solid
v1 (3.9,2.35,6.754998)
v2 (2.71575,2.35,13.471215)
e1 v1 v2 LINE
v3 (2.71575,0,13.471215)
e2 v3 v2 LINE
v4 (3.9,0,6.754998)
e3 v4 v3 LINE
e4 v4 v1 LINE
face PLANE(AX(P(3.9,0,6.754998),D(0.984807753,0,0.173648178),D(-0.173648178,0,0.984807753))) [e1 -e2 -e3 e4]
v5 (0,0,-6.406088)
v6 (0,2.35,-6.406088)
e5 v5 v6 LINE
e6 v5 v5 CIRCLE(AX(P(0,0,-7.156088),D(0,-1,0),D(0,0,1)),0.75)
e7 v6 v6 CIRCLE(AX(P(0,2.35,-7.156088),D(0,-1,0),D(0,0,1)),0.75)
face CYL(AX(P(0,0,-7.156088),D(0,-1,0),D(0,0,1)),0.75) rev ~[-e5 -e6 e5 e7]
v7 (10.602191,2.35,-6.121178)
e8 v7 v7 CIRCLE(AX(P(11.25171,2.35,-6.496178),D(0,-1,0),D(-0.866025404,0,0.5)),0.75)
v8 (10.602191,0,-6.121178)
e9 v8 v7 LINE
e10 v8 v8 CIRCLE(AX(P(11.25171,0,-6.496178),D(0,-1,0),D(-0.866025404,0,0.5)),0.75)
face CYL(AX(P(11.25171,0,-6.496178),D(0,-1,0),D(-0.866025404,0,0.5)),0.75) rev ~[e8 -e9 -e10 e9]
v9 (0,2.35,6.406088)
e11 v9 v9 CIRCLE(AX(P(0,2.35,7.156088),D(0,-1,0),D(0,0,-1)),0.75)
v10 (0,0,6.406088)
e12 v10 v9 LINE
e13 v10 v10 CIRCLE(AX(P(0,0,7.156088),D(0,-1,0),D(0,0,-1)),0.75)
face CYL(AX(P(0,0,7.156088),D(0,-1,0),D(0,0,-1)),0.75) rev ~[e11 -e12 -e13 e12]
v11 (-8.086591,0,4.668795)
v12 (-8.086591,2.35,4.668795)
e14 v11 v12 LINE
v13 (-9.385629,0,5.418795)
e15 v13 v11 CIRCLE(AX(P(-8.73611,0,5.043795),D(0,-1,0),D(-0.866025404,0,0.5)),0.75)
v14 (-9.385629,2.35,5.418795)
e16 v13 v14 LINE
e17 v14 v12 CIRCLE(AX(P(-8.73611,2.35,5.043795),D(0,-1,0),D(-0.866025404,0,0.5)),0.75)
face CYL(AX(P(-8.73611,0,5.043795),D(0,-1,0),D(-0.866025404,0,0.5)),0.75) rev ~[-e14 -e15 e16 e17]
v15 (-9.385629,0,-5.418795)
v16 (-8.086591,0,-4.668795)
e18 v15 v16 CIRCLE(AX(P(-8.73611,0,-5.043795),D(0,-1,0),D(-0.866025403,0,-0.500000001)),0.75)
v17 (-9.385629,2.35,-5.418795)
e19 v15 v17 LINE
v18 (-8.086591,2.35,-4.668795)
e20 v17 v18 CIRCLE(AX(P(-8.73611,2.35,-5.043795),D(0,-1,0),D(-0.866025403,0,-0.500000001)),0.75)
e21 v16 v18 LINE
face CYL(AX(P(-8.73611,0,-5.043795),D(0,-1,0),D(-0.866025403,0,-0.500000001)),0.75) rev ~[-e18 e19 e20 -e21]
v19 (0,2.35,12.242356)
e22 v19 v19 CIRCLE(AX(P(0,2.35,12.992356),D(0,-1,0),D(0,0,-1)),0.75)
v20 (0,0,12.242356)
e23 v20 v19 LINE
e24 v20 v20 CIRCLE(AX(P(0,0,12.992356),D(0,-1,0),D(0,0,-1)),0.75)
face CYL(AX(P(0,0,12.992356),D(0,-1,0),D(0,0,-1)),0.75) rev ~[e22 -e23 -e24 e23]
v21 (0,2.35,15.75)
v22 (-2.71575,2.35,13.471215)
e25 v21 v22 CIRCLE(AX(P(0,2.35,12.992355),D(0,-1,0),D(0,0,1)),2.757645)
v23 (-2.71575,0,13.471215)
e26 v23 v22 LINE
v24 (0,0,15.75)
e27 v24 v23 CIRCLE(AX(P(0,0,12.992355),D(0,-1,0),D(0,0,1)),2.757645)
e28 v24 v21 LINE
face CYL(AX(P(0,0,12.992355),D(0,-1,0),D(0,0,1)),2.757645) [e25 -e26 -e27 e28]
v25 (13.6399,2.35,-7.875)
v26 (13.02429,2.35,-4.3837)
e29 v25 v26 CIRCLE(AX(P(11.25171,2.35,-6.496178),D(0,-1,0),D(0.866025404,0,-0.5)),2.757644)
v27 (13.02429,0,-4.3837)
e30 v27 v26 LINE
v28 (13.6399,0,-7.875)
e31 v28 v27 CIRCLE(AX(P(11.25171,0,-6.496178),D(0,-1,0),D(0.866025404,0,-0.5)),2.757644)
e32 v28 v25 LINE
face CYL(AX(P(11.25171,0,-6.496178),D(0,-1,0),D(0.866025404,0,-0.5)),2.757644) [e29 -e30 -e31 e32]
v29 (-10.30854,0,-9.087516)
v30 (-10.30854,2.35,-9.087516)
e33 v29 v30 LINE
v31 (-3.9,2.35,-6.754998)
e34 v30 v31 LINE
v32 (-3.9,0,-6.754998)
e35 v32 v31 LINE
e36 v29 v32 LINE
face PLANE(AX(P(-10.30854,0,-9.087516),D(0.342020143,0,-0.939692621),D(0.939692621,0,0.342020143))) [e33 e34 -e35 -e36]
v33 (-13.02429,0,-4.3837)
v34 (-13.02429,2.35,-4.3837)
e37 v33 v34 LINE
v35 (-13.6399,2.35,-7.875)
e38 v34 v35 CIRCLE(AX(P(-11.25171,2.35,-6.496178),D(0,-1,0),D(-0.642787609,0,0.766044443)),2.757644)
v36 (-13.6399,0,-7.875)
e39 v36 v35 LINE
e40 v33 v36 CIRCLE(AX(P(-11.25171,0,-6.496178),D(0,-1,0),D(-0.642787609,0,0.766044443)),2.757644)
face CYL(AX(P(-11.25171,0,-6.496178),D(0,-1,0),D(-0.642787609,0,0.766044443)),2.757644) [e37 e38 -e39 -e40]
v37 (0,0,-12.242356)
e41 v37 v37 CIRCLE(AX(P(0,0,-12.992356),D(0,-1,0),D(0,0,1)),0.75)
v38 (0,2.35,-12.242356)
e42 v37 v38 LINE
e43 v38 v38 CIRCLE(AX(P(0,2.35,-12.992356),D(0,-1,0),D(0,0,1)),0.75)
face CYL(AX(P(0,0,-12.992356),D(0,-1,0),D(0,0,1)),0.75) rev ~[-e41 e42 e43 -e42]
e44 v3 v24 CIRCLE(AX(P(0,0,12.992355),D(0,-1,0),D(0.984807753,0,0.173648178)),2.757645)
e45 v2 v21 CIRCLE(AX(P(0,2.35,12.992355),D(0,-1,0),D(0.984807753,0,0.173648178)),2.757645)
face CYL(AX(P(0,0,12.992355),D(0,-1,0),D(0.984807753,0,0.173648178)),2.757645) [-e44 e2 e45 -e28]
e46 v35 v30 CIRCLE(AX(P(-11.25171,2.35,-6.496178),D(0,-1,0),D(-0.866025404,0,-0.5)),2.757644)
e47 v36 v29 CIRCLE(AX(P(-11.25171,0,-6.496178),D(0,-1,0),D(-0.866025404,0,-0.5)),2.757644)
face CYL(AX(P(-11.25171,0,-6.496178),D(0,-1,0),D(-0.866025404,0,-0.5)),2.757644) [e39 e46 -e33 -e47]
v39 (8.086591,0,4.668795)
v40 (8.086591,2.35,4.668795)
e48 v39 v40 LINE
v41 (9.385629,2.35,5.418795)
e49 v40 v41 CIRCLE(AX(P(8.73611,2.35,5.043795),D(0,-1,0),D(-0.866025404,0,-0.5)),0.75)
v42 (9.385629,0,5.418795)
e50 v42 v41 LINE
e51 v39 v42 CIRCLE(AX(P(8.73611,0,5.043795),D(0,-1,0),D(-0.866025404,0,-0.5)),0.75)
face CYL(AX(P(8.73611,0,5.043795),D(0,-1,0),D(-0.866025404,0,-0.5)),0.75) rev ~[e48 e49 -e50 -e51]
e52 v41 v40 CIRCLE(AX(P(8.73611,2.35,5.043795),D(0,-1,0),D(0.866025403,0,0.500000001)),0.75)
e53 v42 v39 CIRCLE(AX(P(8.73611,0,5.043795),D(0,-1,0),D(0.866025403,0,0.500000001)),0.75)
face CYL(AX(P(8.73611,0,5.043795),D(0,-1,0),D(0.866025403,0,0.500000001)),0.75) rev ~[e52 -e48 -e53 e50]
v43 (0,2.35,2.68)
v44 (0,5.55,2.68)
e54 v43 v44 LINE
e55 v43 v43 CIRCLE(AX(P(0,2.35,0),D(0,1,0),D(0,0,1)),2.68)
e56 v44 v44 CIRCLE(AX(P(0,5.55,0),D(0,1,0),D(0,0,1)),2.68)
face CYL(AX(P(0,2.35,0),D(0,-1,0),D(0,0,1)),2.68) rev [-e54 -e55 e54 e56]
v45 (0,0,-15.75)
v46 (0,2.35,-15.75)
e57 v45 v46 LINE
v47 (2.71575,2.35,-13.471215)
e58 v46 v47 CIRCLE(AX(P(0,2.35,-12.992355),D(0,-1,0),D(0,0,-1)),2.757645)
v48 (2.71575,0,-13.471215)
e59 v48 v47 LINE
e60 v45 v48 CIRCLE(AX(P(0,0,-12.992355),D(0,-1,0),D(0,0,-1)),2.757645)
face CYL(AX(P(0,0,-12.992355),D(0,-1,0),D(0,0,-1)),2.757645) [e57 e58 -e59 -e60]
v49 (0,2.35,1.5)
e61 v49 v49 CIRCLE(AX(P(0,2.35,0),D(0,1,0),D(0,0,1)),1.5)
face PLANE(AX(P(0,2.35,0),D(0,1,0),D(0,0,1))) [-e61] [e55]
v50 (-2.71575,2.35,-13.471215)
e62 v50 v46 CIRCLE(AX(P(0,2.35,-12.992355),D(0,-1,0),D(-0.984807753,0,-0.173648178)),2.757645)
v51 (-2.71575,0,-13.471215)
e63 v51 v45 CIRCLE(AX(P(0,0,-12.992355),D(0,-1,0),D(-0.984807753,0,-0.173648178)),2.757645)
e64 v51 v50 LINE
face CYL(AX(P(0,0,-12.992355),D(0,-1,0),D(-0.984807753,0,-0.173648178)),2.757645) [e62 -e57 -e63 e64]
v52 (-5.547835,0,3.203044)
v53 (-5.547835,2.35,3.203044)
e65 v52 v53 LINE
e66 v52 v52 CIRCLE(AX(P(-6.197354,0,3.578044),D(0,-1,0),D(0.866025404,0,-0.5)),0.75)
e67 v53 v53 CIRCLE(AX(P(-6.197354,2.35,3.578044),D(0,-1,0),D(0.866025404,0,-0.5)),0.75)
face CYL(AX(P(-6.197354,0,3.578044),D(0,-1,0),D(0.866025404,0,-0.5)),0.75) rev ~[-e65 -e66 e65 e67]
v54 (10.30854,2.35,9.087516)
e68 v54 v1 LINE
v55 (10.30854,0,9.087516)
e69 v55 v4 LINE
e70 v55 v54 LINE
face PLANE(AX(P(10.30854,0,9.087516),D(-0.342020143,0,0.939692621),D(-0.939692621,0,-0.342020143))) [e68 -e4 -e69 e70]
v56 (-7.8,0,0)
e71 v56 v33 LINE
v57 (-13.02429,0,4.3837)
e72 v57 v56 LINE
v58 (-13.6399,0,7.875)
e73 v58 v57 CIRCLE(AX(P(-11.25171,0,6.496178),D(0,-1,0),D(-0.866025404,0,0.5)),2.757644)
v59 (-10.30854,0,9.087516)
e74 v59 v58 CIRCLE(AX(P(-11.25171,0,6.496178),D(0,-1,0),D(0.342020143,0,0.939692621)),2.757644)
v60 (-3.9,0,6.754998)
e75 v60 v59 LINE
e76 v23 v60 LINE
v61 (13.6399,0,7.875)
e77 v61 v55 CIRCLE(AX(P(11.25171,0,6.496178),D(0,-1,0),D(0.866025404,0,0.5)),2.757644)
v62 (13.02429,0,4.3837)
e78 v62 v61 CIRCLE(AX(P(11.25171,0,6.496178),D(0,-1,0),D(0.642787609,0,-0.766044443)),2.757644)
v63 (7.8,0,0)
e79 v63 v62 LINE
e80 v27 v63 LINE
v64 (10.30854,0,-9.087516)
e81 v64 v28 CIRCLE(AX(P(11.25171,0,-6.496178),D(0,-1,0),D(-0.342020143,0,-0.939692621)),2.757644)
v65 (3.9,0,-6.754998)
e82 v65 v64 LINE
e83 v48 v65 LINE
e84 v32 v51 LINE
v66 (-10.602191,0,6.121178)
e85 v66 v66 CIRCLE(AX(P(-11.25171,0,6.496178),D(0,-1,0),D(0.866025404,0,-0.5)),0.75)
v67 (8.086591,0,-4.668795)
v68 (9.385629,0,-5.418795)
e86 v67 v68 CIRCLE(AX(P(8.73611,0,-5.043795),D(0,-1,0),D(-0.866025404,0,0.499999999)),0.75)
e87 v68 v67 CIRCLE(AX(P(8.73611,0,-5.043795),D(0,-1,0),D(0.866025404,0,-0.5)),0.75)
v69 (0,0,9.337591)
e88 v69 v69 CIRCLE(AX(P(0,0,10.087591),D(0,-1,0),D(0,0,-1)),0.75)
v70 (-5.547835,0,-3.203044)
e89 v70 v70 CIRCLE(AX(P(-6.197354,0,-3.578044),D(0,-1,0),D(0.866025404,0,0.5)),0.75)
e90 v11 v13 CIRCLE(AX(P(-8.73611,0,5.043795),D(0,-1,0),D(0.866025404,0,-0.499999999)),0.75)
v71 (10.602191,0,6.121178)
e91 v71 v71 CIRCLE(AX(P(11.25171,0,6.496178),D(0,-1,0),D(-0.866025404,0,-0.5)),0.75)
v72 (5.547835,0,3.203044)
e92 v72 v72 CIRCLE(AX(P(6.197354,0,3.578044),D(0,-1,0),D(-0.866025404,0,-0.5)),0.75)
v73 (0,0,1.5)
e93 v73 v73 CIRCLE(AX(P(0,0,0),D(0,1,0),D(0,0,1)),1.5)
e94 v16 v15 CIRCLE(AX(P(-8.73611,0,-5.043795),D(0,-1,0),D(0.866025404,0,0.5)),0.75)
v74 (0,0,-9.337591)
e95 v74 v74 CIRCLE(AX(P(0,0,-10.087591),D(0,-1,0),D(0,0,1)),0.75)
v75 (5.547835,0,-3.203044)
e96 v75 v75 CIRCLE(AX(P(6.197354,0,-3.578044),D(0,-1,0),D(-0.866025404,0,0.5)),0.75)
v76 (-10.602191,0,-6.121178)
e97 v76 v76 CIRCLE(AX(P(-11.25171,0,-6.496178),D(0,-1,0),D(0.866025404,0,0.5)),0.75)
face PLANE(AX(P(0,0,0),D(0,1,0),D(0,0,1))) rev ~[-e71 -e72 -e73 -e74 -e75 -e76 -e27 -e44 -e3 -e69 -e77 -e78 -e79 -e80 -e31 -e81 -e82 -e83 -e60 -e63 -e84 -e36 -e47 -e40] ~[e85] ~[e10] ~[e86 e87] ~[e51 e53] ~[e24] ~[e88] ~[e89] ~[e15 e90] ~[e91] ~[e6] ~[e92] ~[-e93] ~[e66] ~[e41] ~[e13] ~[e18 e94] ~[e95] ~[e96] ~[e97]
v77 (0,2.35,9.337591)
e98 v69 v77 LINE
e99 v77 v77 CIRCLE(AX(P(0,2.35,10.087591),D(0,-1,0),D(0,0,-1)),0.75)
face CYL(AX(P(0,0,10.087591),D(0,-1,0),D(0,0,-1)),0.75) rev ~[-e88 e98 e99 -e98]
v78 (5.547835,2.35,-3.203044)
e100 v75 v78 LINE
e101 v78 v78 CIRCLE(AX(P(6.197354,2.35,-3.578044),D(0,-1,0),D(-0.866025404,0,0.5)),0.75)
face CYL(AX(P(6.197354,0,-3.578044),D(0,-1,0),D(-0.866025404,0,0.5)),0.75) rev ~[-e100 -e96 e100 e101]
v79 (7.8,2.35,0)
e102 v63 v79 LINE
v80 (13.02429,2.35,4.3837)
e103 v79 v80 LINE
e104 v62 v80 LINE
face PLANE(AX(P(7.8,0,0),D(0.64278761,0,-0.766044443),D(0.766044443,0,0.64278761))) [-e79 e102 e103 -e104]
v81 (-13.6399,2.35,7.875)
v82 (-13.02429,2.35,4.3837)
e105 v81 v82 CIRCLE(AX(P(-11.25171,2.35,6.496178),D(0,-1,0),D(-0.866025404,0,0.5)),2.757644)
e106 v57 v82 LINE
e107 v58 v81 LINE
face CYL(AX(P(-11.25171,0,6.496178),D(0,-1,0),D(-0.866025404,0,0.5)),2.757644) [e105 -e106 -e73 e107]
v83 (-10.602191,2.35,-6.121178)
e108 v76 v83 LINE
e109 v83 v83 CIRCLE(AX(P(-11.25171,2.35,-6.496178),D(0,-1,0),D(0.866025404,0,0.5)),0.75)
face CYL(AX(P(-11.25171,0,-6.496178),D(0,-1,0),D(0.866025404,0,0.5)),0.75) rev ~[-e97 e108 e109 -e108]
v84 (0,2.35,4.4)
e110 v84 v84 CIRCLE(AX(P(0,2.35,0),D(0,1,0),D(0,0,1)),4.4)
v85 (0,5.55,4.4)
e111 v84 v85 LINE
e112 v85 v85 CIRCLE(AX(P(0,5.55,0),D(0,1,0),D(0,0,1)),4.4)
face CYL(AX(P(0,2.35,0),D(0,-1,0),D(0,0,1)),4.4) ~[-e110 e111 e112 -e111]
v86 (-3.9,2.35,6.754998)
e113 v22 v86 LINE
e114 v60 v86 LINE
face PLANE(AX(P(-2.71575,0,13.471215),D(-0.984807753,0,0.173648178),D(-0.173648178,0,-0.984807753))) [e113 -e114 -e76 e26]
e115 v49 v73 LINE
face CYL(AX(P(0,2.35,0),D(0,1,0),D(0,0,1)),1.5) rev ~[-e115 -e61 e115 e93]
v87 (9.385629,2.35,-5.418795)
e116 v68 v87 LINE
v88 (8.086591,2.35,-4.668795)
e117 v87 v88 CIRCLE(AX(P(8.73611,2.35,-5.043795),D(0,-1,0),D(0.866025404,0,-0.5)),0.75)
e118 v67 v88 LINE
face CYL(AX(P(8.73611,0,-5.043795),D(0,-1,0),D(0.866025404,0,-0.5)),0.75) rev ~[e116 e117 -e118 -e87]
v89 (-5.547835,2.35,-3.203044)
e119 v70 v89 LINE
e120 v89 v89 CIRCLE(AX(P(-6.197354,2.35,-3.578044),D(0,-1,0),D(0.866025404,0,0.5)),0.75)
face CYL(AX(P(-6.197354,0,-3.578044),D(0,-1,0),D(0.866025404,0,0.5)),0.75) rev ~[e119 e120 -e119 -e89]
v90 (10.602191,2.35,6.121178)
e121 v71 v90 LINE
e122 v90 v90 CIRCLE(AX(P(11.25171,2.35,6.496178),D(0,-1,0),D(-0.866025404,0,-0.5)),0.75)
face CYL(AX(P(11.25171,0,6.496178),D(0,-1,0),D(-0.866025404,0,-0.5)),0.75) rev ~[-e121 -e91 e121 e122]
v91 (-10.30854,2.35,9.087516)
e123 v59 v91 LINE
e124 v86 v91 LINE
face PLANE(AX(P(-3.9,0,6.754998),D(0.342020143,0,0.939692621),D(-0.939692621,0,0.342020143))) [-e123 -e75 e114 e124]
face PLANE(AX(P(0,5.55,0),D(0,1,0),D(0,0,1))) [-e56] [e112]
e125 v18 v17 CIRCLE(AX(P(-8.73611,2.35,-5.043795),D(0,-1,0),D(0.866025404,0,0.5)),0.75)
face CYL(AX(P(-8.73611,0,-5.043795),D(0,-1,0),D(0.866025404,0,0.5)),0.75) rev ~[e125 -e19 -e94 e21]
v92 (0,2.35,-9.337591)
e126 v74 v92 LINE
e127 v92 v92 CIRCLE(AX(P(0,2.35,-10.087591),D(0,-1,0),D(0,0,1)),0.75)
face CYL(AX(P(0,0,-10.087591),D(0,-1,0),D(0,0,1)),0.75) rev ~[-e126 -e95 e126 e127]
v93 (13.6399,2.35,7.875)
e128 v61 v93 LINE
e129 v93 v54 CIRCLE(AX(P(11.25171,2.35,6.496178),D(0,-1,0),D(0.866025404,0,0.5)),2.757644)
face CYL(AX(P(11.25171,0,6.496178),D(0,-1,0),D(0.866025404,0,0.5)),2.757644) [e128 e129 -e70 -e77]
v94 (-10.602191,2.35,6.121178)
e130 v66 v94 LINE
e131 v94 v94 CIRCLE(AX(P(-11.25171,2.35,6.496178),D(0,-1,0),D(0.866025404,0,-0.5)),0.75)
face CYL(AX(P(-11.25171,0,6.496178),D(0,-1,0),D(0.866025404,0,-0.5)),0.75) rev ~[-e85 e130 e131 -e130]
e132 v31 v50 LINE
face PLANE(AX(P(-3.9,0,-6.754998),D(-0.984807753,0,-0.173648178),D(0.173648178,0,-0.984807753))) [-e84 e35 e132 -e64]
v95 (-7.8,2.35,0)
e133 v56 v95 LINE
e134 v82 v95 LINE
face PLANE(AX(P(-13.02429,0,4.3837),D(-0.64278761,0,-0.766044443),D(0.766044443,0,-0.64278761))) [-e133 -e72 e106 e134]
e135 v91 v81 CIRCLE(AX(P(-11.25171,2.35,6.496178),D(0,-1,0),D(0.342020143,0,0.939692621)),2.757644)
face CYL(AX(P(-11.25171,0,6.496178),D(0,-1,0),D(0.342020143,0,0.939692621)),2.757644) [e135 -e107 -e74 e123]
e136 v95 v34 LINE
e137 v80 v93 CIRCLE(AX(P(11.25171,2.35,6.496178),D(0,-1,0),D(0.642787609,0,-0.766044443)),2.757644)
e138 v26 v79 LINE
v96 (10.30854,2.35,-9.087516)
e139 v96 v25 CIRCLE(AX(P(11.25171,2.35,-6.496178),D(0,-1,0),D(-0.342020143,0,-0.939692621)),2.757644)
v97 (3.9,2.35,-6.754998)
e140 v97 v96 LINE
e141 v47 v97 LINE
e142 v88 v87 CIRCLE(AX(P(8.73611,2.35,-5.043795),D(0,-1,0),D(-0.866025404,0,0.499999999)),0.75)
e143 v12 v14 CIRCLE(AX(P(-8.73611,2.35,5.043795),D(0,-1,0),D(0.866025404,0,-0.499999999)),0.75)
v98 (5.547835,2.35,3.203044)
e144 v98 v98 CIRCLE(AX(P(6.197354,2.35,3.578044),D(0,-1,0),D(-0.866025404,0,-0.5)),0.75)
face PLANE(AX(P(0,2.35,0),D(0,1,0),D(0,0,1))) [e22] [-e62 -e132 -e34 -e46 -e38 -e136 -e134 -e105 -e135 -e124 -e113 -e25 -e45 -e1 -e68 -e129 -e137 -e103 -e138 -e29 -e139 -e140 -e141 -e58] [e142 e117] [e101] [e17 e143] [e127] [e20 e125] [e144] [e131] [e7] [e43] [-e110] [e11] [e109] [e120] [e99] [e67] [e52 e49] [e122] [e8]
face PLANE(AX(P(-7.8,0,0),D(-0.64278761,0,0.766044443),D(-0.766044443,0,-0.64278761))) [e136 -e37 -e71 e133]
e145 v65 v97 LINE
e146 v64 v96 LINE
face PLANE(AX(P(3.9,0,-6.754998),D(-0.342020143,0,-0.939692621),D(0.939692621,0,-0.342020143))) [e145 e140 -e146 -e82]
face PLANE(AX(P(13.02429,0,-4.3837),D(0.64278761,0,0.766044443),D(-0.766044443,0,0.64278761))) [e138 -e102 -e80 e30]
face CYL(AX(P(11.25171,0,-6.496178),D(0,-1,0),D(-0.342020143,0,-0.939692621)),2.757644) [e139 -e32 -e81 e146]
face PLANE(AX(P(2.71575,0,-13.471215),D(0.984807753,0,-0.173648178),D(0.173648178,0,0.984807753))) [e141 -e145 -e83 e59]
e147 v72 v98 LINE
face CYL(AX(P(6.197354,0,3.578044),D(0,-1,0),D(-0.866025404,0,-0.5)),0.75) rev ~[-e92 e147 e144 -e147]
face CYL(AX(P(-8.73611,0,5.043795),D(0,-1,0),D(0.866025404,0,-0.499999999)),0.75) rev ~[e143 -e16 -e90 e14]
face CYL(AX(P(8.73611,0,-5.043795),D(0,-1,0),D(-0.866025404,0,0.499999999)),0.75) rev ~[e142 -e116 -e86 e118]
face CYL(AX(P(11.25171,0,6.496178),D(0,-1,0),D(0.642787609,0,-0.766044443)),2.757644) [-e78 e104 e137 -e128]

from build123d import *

# Parameters (mm, degrees)
SKETCH1_R           = 15.75
BOSS_EXTRUDE1_DEPTH = 2.35
CUT_EXTRUDE2_START  = -2.35
CUT_EXTRUDE2_DEPTH  = 2.35
SKETCH3_R           = 4.4
SKETCH3_R_2         = 2.68
BOSS_EXTRUDE2_DEPTH = 3.2
SKETCH4_R           = 1.5
CUT_EXTRUDE3_DEPTH  = 22.320518549


with BuildPart() as part:
    # Sketch1 → Boss-Extrude1 (new body)
    with BuildSketch(Plane(origin=(0, 0, 0), x_dir=(1, 0, 0), z_dir=(0, 1, 0))):
        with Locations(Location((0, 0, 0), (0, 0, 270))):
            Circle(SKETCH1_R)
    extrude(amount=BOSS_EXTRUDE1_DEPTH)

    # Sketch2 → Cut-Extrude2 (cut)
    with BuildSketch(Plane(origin=(0, 2.35, 0), x_dir=(1, 0, 0), z_dir=(0, 1, 0)).offset(CUT_EXTRUDE2_START)):
        with BuildLine():
            ThreePointArc((-11.901228971, -6.87117775), (-11.626709919, -5.846658698), (-10.602190866, -6.12117775))
            ThreePointArc((-10.602190866, -6.12117775), (-10.876709919, -7.145696803), (-11.901228971, -6.87117775))
        make_face()
        with BuildLine():
            ThreePointArc((-9.385628943, -5.418795397), (-9.11110989, -4.394276344), (-8.086590837, -4.668795397))
            ThreePointArc((-8.086590837, -4.668795397), (-8.36110989, -5.693314449), (-9.385628943, -5.418795397))
        make_face()
        with BuildLine():
            ThreePointArc((-6.846872878, -3.953043899), (-6.572353825, -2.928524846), (-5.547834772, -3.203043899))
            ThreePointArc((-5.547834772, -3.203043899), (-5.822353825, -4.227562952), (-6.846872878, -3.953043899))
        make_face()
        with BuildLine():
            ThreePointArc((-11.901228971, 6.87117775), (-10.876709919, 7.145696803), (-10.602190866, 6.12117775))
            ThreePointArc((-10.602190866, 6.12117775), (-11.626709919, 5.846658698), (-11.901228971, 6.87117775))
        make_face()
        with BuildLine():
            ThreePointArc((-9.385628943, 5.418795397), (-8.36110989, 5.693314449), (-8.086590837, 4.668795397))
            ThreePointArc((-8.086590837, 4.668795397), (-9.11110989, 4.394276344), (-9.385628943, 5.418795397))
        make_face()
        with BuildLine():
            ThreePointArc((-6.846872878, 3.953043899), (-5.822353825, 4.227562952), (-5.547834772, 3.203043899))
            ThreePointArc((-5.547834772, 3.203043899), (-6.572353825, 2.928524846), (-6.846872878, 3.953043899))
        make_face()
        with BuildLine():
            ThreePointArc((0, 13.742355501), (0.75, 12.992355501), (0, 12.242355501))
            ThreePointArc((0, 12.242355501), (-0.75, 12.992355501), (0, 13.742355501))
        make_face()
        with BuildLine():
            ThreePointArc((0, 7.906087798), (0.75, 7.156087798), (0, 6.406087798))
            ThreePointArc((0, 6.406087798), (-0.75, 7.156087798), (0, 7.906087798))
        make_face()
        with BuildLine():
            ThreePointArc((0, 10.837590793), (0.75, 10.087590793), (0, 9.337590793))
            ThreePointArc((0, 9.337590793), (-0.75, 10.087590793), (0, 10.837590793))
        make_face()
        with BuildLine():
            ThreePointArc((6.846872878, 3.953043899), (6.572353825, 2.928524846), (5.547834772, 3.203043899))
            ThreePointArc((5.547834772, 3.203043899), (5.822353825, 4.227562952), (6.846872878, 3.953043899))
        make_face()
        with BuildLine():
            ThreePointArc((9.385628943, 5.418795397), (9.11110989, 4.394276344), (8.086590837, 4.668795397))
            ThreePointArc((8.086590837, 4.668795397), (8.36110989, 5.693314449), (9.385628943, 5.418795397))
        make_face()
        with BuildLine():
            ThreePointArc((11.901228971, 6.87117775), (11.626709919, 5.846658698), (10.602190866, 6.12117775))
            ThreePointArc((10.602190866, 6.12117775), (10.876709919, 7.145696803), (11.901228971, 6.87117775))
        make_face()
        with BuildLine():
            ThreePointArc((6.846872878, -3.953043899), (5.822353825, -4.227562952), (5.547834772, -3.203043899))
            ThreePointArc((5.547834772, -3.203043899), (6.572353825, -2.928524846), (6.846872878, -3.953043899))
        make_face()
        with BuildLine():
            ThreePointArc((9.385628943, -5.418795397), (8.36110989, -5.693314449), (8.086590837, -4.668795397))
            ThreePointArc((8.086590837, -4.668795397), (9.11110989, -4.394276344), (9.385628943, -5.418795397))
        make_face()
        with BuildLine():
            ThreePointArc((11.901228971, -6.87117775), (10.876709919, -7.145696803), (10.602190866, -6.12117775))
            ThreePointArc((10.602190866, -6.12117775), (11.626709919, -5.846658698), (11.901228971, -6.87117775))
        make_face()
        with BuildLine():
            ThreePointArc((0, -7.906087798), (-0.75, -7.156087798), (0, -6.406087798))
            ThreePointArc((0, -6.406087798), (0.75, -7.156087798), (0, -7.906087798))
        make_face()
        with BuildLine():
            ThreePointArc((0, -10.837590793), (-0.75, -10.087590793), (0, -9.337590793))
            ThreePointArc((0, -9.337590793), (0.75, -10.087590793), (0, -10.837590793))
        make_face()
        with BuildLine():
            ThreePointArc((0, -13.742355501), (-0.75, -12.992355501), (0, -12.242355501))
            ThreePointArc((0, -12.242355501), (0.75, -12.992355501), (0, -13.742355501))
        make_face()
        with BuildLine():
            ThreePointArc((-10.308539952, -9.087515937), (-12.194879886, -9.087515937), (-13.63990011, -7.875))
            ThreePointArc((-13.63990011, -7.875), (-7.875, -13.63990011), (0, -15.75))
            ThreePointArc((0, -15.75), (-1.772579716, -15.104833745), (-2.715749683, -13.471215443))
            Line((-2.715749683, -13.471215443), (-3.9, -6.75499815))
            Line((-3.9, -6.75499815), (-10.308539952, -9.087515937))
        make_face()
        with BuildLine():
            ThreePointArc((-13.024289635, 4.383699506), (-13.967459602, 6.017317808), (-13.63990011, 7.875))
            ThreePointArc((-13.63990011, 7.875), (-15.75, 0), (-13.63990011, -7.875))
            ThreePointArc((-13.63990011, -7.875), (-13.967459602, -6.017317808), (-13.024289635, -4.383699506))
            Line((-13.024289635, -4.383699506), (-7.8, 0))
            Line((-7.8, 0), (-13.024289635, 4.383699506))
        make_face()
        with BuildLine():
            Line((-10.308539952, 9.087515937), (-3.9, 6.75499815))
            Line((-3.9, 6.75499815), (-2.715749683, 13.471215443))
            ThreePointArc((-2.715749683, 13.471215443), (-1.772579716, 15.104833745), (0, 15.75))
            ThreePointArc((0, 15.75), (-7.875, 13.63990011), (-13.63990011, 7.875))
            ThreePointArc((-13.63990011, 7.875), (-12.194879886, 9.087515937), (-10.308539952, 9.087515937))
        make_face()
        with BuildLine():
            ThreePointArc((13.63990011, 7.875), (7.875, 13.63990011), (0, 15.75))
            ThreePointArc((0, 15.75), (1.772579716, 15.104833745), (2.715749683, 13.471215443))
            Line((2.715749683, 13.471215443), (3.9, 6.75499815))
            Line((3.9, 6.75499815), (10.308539952, 9.087515937))
            ThreePointArc((10.308539952, 9.087515937), (12.194879886, 9.087515937), (13.63990011, 7.875))
        make_face()
        with BuildLine():
            ThreePointArc((15.75, 0), (15.213331764, 4.07639996), (13.63990011, 7.875))
            ThreePointArc((13.63990011, 7.875), (13.967459602, 6.017317808), (13.024289635, 4.383699506))
            Line((13.024289635, 4.383699506), (7.8, 0))
            Line((7.8, 0), (13.024289635, -4.383699506))
            ThreePointArc((13.024289635, -4.383699506), (13.967459602, -6.017317808), (13.63990011, -7.875))
            ThreePointArc((13.63990011, -7.875), (15.213331764, -4.07639996), (15.75, 0))
        make_face()
        with BuildLine():
            ThreePointArc((2.715749683, -13.471215443), (1.772579716, -15.104833745), (0, -15.75))
            ThreePointArc((0, -15.75), (7.875, -13.63990011), (13.63990011, -7.875))
            ThreePointArc((13.63990011, -7.875), (12.194879886, -9.087515937), (10.308539952, -9.087515937))
            Line((10.308539952, -9.087515937), (3.9, -6.75499815))
            Line((3.9, -6.75499815), (2.715749683, -13.471215443))
        make_face()
    extrude(amount=CUT_EXTRUDE2_DEPTH, mode=Mode.SUBTRACT)

    # Sketch3 → Boss-Extrude2 (add)
    with BuildSketch(Plane(origin=(0, 2.35, 0), x_dir=(1, 0, 0), z_dir=(0, 1, 0))):
        with Locations(Location((0, 0, 0), (0, 0, 270))):
            Circle(SKETCH3_R)
        with Locations(Location((0, 0, 0), (0, 0, 270))):
            Circle(SKETCH3_R_2, mode=Mode.SUBTRACT)
    extrude(amount=BOSS_EXTRUDE2_DEPTH)

    # Sketch4 → Cut-Extrude3 (cut, through all)
    with BuildSketch(Plane(origin=(0, 2.35, 0), x_dir=(1, 0, 0), z_dir=(0, 1, 0))):
        with Locations(Location((0, 0, 0), (0, 0, 270))):
            Circle(SKETCH4_R)
    extrude(amount=-CUT_EXTRUDE3_DEPTH, mode=Mode.SUBTRACT)


solid = part.part
